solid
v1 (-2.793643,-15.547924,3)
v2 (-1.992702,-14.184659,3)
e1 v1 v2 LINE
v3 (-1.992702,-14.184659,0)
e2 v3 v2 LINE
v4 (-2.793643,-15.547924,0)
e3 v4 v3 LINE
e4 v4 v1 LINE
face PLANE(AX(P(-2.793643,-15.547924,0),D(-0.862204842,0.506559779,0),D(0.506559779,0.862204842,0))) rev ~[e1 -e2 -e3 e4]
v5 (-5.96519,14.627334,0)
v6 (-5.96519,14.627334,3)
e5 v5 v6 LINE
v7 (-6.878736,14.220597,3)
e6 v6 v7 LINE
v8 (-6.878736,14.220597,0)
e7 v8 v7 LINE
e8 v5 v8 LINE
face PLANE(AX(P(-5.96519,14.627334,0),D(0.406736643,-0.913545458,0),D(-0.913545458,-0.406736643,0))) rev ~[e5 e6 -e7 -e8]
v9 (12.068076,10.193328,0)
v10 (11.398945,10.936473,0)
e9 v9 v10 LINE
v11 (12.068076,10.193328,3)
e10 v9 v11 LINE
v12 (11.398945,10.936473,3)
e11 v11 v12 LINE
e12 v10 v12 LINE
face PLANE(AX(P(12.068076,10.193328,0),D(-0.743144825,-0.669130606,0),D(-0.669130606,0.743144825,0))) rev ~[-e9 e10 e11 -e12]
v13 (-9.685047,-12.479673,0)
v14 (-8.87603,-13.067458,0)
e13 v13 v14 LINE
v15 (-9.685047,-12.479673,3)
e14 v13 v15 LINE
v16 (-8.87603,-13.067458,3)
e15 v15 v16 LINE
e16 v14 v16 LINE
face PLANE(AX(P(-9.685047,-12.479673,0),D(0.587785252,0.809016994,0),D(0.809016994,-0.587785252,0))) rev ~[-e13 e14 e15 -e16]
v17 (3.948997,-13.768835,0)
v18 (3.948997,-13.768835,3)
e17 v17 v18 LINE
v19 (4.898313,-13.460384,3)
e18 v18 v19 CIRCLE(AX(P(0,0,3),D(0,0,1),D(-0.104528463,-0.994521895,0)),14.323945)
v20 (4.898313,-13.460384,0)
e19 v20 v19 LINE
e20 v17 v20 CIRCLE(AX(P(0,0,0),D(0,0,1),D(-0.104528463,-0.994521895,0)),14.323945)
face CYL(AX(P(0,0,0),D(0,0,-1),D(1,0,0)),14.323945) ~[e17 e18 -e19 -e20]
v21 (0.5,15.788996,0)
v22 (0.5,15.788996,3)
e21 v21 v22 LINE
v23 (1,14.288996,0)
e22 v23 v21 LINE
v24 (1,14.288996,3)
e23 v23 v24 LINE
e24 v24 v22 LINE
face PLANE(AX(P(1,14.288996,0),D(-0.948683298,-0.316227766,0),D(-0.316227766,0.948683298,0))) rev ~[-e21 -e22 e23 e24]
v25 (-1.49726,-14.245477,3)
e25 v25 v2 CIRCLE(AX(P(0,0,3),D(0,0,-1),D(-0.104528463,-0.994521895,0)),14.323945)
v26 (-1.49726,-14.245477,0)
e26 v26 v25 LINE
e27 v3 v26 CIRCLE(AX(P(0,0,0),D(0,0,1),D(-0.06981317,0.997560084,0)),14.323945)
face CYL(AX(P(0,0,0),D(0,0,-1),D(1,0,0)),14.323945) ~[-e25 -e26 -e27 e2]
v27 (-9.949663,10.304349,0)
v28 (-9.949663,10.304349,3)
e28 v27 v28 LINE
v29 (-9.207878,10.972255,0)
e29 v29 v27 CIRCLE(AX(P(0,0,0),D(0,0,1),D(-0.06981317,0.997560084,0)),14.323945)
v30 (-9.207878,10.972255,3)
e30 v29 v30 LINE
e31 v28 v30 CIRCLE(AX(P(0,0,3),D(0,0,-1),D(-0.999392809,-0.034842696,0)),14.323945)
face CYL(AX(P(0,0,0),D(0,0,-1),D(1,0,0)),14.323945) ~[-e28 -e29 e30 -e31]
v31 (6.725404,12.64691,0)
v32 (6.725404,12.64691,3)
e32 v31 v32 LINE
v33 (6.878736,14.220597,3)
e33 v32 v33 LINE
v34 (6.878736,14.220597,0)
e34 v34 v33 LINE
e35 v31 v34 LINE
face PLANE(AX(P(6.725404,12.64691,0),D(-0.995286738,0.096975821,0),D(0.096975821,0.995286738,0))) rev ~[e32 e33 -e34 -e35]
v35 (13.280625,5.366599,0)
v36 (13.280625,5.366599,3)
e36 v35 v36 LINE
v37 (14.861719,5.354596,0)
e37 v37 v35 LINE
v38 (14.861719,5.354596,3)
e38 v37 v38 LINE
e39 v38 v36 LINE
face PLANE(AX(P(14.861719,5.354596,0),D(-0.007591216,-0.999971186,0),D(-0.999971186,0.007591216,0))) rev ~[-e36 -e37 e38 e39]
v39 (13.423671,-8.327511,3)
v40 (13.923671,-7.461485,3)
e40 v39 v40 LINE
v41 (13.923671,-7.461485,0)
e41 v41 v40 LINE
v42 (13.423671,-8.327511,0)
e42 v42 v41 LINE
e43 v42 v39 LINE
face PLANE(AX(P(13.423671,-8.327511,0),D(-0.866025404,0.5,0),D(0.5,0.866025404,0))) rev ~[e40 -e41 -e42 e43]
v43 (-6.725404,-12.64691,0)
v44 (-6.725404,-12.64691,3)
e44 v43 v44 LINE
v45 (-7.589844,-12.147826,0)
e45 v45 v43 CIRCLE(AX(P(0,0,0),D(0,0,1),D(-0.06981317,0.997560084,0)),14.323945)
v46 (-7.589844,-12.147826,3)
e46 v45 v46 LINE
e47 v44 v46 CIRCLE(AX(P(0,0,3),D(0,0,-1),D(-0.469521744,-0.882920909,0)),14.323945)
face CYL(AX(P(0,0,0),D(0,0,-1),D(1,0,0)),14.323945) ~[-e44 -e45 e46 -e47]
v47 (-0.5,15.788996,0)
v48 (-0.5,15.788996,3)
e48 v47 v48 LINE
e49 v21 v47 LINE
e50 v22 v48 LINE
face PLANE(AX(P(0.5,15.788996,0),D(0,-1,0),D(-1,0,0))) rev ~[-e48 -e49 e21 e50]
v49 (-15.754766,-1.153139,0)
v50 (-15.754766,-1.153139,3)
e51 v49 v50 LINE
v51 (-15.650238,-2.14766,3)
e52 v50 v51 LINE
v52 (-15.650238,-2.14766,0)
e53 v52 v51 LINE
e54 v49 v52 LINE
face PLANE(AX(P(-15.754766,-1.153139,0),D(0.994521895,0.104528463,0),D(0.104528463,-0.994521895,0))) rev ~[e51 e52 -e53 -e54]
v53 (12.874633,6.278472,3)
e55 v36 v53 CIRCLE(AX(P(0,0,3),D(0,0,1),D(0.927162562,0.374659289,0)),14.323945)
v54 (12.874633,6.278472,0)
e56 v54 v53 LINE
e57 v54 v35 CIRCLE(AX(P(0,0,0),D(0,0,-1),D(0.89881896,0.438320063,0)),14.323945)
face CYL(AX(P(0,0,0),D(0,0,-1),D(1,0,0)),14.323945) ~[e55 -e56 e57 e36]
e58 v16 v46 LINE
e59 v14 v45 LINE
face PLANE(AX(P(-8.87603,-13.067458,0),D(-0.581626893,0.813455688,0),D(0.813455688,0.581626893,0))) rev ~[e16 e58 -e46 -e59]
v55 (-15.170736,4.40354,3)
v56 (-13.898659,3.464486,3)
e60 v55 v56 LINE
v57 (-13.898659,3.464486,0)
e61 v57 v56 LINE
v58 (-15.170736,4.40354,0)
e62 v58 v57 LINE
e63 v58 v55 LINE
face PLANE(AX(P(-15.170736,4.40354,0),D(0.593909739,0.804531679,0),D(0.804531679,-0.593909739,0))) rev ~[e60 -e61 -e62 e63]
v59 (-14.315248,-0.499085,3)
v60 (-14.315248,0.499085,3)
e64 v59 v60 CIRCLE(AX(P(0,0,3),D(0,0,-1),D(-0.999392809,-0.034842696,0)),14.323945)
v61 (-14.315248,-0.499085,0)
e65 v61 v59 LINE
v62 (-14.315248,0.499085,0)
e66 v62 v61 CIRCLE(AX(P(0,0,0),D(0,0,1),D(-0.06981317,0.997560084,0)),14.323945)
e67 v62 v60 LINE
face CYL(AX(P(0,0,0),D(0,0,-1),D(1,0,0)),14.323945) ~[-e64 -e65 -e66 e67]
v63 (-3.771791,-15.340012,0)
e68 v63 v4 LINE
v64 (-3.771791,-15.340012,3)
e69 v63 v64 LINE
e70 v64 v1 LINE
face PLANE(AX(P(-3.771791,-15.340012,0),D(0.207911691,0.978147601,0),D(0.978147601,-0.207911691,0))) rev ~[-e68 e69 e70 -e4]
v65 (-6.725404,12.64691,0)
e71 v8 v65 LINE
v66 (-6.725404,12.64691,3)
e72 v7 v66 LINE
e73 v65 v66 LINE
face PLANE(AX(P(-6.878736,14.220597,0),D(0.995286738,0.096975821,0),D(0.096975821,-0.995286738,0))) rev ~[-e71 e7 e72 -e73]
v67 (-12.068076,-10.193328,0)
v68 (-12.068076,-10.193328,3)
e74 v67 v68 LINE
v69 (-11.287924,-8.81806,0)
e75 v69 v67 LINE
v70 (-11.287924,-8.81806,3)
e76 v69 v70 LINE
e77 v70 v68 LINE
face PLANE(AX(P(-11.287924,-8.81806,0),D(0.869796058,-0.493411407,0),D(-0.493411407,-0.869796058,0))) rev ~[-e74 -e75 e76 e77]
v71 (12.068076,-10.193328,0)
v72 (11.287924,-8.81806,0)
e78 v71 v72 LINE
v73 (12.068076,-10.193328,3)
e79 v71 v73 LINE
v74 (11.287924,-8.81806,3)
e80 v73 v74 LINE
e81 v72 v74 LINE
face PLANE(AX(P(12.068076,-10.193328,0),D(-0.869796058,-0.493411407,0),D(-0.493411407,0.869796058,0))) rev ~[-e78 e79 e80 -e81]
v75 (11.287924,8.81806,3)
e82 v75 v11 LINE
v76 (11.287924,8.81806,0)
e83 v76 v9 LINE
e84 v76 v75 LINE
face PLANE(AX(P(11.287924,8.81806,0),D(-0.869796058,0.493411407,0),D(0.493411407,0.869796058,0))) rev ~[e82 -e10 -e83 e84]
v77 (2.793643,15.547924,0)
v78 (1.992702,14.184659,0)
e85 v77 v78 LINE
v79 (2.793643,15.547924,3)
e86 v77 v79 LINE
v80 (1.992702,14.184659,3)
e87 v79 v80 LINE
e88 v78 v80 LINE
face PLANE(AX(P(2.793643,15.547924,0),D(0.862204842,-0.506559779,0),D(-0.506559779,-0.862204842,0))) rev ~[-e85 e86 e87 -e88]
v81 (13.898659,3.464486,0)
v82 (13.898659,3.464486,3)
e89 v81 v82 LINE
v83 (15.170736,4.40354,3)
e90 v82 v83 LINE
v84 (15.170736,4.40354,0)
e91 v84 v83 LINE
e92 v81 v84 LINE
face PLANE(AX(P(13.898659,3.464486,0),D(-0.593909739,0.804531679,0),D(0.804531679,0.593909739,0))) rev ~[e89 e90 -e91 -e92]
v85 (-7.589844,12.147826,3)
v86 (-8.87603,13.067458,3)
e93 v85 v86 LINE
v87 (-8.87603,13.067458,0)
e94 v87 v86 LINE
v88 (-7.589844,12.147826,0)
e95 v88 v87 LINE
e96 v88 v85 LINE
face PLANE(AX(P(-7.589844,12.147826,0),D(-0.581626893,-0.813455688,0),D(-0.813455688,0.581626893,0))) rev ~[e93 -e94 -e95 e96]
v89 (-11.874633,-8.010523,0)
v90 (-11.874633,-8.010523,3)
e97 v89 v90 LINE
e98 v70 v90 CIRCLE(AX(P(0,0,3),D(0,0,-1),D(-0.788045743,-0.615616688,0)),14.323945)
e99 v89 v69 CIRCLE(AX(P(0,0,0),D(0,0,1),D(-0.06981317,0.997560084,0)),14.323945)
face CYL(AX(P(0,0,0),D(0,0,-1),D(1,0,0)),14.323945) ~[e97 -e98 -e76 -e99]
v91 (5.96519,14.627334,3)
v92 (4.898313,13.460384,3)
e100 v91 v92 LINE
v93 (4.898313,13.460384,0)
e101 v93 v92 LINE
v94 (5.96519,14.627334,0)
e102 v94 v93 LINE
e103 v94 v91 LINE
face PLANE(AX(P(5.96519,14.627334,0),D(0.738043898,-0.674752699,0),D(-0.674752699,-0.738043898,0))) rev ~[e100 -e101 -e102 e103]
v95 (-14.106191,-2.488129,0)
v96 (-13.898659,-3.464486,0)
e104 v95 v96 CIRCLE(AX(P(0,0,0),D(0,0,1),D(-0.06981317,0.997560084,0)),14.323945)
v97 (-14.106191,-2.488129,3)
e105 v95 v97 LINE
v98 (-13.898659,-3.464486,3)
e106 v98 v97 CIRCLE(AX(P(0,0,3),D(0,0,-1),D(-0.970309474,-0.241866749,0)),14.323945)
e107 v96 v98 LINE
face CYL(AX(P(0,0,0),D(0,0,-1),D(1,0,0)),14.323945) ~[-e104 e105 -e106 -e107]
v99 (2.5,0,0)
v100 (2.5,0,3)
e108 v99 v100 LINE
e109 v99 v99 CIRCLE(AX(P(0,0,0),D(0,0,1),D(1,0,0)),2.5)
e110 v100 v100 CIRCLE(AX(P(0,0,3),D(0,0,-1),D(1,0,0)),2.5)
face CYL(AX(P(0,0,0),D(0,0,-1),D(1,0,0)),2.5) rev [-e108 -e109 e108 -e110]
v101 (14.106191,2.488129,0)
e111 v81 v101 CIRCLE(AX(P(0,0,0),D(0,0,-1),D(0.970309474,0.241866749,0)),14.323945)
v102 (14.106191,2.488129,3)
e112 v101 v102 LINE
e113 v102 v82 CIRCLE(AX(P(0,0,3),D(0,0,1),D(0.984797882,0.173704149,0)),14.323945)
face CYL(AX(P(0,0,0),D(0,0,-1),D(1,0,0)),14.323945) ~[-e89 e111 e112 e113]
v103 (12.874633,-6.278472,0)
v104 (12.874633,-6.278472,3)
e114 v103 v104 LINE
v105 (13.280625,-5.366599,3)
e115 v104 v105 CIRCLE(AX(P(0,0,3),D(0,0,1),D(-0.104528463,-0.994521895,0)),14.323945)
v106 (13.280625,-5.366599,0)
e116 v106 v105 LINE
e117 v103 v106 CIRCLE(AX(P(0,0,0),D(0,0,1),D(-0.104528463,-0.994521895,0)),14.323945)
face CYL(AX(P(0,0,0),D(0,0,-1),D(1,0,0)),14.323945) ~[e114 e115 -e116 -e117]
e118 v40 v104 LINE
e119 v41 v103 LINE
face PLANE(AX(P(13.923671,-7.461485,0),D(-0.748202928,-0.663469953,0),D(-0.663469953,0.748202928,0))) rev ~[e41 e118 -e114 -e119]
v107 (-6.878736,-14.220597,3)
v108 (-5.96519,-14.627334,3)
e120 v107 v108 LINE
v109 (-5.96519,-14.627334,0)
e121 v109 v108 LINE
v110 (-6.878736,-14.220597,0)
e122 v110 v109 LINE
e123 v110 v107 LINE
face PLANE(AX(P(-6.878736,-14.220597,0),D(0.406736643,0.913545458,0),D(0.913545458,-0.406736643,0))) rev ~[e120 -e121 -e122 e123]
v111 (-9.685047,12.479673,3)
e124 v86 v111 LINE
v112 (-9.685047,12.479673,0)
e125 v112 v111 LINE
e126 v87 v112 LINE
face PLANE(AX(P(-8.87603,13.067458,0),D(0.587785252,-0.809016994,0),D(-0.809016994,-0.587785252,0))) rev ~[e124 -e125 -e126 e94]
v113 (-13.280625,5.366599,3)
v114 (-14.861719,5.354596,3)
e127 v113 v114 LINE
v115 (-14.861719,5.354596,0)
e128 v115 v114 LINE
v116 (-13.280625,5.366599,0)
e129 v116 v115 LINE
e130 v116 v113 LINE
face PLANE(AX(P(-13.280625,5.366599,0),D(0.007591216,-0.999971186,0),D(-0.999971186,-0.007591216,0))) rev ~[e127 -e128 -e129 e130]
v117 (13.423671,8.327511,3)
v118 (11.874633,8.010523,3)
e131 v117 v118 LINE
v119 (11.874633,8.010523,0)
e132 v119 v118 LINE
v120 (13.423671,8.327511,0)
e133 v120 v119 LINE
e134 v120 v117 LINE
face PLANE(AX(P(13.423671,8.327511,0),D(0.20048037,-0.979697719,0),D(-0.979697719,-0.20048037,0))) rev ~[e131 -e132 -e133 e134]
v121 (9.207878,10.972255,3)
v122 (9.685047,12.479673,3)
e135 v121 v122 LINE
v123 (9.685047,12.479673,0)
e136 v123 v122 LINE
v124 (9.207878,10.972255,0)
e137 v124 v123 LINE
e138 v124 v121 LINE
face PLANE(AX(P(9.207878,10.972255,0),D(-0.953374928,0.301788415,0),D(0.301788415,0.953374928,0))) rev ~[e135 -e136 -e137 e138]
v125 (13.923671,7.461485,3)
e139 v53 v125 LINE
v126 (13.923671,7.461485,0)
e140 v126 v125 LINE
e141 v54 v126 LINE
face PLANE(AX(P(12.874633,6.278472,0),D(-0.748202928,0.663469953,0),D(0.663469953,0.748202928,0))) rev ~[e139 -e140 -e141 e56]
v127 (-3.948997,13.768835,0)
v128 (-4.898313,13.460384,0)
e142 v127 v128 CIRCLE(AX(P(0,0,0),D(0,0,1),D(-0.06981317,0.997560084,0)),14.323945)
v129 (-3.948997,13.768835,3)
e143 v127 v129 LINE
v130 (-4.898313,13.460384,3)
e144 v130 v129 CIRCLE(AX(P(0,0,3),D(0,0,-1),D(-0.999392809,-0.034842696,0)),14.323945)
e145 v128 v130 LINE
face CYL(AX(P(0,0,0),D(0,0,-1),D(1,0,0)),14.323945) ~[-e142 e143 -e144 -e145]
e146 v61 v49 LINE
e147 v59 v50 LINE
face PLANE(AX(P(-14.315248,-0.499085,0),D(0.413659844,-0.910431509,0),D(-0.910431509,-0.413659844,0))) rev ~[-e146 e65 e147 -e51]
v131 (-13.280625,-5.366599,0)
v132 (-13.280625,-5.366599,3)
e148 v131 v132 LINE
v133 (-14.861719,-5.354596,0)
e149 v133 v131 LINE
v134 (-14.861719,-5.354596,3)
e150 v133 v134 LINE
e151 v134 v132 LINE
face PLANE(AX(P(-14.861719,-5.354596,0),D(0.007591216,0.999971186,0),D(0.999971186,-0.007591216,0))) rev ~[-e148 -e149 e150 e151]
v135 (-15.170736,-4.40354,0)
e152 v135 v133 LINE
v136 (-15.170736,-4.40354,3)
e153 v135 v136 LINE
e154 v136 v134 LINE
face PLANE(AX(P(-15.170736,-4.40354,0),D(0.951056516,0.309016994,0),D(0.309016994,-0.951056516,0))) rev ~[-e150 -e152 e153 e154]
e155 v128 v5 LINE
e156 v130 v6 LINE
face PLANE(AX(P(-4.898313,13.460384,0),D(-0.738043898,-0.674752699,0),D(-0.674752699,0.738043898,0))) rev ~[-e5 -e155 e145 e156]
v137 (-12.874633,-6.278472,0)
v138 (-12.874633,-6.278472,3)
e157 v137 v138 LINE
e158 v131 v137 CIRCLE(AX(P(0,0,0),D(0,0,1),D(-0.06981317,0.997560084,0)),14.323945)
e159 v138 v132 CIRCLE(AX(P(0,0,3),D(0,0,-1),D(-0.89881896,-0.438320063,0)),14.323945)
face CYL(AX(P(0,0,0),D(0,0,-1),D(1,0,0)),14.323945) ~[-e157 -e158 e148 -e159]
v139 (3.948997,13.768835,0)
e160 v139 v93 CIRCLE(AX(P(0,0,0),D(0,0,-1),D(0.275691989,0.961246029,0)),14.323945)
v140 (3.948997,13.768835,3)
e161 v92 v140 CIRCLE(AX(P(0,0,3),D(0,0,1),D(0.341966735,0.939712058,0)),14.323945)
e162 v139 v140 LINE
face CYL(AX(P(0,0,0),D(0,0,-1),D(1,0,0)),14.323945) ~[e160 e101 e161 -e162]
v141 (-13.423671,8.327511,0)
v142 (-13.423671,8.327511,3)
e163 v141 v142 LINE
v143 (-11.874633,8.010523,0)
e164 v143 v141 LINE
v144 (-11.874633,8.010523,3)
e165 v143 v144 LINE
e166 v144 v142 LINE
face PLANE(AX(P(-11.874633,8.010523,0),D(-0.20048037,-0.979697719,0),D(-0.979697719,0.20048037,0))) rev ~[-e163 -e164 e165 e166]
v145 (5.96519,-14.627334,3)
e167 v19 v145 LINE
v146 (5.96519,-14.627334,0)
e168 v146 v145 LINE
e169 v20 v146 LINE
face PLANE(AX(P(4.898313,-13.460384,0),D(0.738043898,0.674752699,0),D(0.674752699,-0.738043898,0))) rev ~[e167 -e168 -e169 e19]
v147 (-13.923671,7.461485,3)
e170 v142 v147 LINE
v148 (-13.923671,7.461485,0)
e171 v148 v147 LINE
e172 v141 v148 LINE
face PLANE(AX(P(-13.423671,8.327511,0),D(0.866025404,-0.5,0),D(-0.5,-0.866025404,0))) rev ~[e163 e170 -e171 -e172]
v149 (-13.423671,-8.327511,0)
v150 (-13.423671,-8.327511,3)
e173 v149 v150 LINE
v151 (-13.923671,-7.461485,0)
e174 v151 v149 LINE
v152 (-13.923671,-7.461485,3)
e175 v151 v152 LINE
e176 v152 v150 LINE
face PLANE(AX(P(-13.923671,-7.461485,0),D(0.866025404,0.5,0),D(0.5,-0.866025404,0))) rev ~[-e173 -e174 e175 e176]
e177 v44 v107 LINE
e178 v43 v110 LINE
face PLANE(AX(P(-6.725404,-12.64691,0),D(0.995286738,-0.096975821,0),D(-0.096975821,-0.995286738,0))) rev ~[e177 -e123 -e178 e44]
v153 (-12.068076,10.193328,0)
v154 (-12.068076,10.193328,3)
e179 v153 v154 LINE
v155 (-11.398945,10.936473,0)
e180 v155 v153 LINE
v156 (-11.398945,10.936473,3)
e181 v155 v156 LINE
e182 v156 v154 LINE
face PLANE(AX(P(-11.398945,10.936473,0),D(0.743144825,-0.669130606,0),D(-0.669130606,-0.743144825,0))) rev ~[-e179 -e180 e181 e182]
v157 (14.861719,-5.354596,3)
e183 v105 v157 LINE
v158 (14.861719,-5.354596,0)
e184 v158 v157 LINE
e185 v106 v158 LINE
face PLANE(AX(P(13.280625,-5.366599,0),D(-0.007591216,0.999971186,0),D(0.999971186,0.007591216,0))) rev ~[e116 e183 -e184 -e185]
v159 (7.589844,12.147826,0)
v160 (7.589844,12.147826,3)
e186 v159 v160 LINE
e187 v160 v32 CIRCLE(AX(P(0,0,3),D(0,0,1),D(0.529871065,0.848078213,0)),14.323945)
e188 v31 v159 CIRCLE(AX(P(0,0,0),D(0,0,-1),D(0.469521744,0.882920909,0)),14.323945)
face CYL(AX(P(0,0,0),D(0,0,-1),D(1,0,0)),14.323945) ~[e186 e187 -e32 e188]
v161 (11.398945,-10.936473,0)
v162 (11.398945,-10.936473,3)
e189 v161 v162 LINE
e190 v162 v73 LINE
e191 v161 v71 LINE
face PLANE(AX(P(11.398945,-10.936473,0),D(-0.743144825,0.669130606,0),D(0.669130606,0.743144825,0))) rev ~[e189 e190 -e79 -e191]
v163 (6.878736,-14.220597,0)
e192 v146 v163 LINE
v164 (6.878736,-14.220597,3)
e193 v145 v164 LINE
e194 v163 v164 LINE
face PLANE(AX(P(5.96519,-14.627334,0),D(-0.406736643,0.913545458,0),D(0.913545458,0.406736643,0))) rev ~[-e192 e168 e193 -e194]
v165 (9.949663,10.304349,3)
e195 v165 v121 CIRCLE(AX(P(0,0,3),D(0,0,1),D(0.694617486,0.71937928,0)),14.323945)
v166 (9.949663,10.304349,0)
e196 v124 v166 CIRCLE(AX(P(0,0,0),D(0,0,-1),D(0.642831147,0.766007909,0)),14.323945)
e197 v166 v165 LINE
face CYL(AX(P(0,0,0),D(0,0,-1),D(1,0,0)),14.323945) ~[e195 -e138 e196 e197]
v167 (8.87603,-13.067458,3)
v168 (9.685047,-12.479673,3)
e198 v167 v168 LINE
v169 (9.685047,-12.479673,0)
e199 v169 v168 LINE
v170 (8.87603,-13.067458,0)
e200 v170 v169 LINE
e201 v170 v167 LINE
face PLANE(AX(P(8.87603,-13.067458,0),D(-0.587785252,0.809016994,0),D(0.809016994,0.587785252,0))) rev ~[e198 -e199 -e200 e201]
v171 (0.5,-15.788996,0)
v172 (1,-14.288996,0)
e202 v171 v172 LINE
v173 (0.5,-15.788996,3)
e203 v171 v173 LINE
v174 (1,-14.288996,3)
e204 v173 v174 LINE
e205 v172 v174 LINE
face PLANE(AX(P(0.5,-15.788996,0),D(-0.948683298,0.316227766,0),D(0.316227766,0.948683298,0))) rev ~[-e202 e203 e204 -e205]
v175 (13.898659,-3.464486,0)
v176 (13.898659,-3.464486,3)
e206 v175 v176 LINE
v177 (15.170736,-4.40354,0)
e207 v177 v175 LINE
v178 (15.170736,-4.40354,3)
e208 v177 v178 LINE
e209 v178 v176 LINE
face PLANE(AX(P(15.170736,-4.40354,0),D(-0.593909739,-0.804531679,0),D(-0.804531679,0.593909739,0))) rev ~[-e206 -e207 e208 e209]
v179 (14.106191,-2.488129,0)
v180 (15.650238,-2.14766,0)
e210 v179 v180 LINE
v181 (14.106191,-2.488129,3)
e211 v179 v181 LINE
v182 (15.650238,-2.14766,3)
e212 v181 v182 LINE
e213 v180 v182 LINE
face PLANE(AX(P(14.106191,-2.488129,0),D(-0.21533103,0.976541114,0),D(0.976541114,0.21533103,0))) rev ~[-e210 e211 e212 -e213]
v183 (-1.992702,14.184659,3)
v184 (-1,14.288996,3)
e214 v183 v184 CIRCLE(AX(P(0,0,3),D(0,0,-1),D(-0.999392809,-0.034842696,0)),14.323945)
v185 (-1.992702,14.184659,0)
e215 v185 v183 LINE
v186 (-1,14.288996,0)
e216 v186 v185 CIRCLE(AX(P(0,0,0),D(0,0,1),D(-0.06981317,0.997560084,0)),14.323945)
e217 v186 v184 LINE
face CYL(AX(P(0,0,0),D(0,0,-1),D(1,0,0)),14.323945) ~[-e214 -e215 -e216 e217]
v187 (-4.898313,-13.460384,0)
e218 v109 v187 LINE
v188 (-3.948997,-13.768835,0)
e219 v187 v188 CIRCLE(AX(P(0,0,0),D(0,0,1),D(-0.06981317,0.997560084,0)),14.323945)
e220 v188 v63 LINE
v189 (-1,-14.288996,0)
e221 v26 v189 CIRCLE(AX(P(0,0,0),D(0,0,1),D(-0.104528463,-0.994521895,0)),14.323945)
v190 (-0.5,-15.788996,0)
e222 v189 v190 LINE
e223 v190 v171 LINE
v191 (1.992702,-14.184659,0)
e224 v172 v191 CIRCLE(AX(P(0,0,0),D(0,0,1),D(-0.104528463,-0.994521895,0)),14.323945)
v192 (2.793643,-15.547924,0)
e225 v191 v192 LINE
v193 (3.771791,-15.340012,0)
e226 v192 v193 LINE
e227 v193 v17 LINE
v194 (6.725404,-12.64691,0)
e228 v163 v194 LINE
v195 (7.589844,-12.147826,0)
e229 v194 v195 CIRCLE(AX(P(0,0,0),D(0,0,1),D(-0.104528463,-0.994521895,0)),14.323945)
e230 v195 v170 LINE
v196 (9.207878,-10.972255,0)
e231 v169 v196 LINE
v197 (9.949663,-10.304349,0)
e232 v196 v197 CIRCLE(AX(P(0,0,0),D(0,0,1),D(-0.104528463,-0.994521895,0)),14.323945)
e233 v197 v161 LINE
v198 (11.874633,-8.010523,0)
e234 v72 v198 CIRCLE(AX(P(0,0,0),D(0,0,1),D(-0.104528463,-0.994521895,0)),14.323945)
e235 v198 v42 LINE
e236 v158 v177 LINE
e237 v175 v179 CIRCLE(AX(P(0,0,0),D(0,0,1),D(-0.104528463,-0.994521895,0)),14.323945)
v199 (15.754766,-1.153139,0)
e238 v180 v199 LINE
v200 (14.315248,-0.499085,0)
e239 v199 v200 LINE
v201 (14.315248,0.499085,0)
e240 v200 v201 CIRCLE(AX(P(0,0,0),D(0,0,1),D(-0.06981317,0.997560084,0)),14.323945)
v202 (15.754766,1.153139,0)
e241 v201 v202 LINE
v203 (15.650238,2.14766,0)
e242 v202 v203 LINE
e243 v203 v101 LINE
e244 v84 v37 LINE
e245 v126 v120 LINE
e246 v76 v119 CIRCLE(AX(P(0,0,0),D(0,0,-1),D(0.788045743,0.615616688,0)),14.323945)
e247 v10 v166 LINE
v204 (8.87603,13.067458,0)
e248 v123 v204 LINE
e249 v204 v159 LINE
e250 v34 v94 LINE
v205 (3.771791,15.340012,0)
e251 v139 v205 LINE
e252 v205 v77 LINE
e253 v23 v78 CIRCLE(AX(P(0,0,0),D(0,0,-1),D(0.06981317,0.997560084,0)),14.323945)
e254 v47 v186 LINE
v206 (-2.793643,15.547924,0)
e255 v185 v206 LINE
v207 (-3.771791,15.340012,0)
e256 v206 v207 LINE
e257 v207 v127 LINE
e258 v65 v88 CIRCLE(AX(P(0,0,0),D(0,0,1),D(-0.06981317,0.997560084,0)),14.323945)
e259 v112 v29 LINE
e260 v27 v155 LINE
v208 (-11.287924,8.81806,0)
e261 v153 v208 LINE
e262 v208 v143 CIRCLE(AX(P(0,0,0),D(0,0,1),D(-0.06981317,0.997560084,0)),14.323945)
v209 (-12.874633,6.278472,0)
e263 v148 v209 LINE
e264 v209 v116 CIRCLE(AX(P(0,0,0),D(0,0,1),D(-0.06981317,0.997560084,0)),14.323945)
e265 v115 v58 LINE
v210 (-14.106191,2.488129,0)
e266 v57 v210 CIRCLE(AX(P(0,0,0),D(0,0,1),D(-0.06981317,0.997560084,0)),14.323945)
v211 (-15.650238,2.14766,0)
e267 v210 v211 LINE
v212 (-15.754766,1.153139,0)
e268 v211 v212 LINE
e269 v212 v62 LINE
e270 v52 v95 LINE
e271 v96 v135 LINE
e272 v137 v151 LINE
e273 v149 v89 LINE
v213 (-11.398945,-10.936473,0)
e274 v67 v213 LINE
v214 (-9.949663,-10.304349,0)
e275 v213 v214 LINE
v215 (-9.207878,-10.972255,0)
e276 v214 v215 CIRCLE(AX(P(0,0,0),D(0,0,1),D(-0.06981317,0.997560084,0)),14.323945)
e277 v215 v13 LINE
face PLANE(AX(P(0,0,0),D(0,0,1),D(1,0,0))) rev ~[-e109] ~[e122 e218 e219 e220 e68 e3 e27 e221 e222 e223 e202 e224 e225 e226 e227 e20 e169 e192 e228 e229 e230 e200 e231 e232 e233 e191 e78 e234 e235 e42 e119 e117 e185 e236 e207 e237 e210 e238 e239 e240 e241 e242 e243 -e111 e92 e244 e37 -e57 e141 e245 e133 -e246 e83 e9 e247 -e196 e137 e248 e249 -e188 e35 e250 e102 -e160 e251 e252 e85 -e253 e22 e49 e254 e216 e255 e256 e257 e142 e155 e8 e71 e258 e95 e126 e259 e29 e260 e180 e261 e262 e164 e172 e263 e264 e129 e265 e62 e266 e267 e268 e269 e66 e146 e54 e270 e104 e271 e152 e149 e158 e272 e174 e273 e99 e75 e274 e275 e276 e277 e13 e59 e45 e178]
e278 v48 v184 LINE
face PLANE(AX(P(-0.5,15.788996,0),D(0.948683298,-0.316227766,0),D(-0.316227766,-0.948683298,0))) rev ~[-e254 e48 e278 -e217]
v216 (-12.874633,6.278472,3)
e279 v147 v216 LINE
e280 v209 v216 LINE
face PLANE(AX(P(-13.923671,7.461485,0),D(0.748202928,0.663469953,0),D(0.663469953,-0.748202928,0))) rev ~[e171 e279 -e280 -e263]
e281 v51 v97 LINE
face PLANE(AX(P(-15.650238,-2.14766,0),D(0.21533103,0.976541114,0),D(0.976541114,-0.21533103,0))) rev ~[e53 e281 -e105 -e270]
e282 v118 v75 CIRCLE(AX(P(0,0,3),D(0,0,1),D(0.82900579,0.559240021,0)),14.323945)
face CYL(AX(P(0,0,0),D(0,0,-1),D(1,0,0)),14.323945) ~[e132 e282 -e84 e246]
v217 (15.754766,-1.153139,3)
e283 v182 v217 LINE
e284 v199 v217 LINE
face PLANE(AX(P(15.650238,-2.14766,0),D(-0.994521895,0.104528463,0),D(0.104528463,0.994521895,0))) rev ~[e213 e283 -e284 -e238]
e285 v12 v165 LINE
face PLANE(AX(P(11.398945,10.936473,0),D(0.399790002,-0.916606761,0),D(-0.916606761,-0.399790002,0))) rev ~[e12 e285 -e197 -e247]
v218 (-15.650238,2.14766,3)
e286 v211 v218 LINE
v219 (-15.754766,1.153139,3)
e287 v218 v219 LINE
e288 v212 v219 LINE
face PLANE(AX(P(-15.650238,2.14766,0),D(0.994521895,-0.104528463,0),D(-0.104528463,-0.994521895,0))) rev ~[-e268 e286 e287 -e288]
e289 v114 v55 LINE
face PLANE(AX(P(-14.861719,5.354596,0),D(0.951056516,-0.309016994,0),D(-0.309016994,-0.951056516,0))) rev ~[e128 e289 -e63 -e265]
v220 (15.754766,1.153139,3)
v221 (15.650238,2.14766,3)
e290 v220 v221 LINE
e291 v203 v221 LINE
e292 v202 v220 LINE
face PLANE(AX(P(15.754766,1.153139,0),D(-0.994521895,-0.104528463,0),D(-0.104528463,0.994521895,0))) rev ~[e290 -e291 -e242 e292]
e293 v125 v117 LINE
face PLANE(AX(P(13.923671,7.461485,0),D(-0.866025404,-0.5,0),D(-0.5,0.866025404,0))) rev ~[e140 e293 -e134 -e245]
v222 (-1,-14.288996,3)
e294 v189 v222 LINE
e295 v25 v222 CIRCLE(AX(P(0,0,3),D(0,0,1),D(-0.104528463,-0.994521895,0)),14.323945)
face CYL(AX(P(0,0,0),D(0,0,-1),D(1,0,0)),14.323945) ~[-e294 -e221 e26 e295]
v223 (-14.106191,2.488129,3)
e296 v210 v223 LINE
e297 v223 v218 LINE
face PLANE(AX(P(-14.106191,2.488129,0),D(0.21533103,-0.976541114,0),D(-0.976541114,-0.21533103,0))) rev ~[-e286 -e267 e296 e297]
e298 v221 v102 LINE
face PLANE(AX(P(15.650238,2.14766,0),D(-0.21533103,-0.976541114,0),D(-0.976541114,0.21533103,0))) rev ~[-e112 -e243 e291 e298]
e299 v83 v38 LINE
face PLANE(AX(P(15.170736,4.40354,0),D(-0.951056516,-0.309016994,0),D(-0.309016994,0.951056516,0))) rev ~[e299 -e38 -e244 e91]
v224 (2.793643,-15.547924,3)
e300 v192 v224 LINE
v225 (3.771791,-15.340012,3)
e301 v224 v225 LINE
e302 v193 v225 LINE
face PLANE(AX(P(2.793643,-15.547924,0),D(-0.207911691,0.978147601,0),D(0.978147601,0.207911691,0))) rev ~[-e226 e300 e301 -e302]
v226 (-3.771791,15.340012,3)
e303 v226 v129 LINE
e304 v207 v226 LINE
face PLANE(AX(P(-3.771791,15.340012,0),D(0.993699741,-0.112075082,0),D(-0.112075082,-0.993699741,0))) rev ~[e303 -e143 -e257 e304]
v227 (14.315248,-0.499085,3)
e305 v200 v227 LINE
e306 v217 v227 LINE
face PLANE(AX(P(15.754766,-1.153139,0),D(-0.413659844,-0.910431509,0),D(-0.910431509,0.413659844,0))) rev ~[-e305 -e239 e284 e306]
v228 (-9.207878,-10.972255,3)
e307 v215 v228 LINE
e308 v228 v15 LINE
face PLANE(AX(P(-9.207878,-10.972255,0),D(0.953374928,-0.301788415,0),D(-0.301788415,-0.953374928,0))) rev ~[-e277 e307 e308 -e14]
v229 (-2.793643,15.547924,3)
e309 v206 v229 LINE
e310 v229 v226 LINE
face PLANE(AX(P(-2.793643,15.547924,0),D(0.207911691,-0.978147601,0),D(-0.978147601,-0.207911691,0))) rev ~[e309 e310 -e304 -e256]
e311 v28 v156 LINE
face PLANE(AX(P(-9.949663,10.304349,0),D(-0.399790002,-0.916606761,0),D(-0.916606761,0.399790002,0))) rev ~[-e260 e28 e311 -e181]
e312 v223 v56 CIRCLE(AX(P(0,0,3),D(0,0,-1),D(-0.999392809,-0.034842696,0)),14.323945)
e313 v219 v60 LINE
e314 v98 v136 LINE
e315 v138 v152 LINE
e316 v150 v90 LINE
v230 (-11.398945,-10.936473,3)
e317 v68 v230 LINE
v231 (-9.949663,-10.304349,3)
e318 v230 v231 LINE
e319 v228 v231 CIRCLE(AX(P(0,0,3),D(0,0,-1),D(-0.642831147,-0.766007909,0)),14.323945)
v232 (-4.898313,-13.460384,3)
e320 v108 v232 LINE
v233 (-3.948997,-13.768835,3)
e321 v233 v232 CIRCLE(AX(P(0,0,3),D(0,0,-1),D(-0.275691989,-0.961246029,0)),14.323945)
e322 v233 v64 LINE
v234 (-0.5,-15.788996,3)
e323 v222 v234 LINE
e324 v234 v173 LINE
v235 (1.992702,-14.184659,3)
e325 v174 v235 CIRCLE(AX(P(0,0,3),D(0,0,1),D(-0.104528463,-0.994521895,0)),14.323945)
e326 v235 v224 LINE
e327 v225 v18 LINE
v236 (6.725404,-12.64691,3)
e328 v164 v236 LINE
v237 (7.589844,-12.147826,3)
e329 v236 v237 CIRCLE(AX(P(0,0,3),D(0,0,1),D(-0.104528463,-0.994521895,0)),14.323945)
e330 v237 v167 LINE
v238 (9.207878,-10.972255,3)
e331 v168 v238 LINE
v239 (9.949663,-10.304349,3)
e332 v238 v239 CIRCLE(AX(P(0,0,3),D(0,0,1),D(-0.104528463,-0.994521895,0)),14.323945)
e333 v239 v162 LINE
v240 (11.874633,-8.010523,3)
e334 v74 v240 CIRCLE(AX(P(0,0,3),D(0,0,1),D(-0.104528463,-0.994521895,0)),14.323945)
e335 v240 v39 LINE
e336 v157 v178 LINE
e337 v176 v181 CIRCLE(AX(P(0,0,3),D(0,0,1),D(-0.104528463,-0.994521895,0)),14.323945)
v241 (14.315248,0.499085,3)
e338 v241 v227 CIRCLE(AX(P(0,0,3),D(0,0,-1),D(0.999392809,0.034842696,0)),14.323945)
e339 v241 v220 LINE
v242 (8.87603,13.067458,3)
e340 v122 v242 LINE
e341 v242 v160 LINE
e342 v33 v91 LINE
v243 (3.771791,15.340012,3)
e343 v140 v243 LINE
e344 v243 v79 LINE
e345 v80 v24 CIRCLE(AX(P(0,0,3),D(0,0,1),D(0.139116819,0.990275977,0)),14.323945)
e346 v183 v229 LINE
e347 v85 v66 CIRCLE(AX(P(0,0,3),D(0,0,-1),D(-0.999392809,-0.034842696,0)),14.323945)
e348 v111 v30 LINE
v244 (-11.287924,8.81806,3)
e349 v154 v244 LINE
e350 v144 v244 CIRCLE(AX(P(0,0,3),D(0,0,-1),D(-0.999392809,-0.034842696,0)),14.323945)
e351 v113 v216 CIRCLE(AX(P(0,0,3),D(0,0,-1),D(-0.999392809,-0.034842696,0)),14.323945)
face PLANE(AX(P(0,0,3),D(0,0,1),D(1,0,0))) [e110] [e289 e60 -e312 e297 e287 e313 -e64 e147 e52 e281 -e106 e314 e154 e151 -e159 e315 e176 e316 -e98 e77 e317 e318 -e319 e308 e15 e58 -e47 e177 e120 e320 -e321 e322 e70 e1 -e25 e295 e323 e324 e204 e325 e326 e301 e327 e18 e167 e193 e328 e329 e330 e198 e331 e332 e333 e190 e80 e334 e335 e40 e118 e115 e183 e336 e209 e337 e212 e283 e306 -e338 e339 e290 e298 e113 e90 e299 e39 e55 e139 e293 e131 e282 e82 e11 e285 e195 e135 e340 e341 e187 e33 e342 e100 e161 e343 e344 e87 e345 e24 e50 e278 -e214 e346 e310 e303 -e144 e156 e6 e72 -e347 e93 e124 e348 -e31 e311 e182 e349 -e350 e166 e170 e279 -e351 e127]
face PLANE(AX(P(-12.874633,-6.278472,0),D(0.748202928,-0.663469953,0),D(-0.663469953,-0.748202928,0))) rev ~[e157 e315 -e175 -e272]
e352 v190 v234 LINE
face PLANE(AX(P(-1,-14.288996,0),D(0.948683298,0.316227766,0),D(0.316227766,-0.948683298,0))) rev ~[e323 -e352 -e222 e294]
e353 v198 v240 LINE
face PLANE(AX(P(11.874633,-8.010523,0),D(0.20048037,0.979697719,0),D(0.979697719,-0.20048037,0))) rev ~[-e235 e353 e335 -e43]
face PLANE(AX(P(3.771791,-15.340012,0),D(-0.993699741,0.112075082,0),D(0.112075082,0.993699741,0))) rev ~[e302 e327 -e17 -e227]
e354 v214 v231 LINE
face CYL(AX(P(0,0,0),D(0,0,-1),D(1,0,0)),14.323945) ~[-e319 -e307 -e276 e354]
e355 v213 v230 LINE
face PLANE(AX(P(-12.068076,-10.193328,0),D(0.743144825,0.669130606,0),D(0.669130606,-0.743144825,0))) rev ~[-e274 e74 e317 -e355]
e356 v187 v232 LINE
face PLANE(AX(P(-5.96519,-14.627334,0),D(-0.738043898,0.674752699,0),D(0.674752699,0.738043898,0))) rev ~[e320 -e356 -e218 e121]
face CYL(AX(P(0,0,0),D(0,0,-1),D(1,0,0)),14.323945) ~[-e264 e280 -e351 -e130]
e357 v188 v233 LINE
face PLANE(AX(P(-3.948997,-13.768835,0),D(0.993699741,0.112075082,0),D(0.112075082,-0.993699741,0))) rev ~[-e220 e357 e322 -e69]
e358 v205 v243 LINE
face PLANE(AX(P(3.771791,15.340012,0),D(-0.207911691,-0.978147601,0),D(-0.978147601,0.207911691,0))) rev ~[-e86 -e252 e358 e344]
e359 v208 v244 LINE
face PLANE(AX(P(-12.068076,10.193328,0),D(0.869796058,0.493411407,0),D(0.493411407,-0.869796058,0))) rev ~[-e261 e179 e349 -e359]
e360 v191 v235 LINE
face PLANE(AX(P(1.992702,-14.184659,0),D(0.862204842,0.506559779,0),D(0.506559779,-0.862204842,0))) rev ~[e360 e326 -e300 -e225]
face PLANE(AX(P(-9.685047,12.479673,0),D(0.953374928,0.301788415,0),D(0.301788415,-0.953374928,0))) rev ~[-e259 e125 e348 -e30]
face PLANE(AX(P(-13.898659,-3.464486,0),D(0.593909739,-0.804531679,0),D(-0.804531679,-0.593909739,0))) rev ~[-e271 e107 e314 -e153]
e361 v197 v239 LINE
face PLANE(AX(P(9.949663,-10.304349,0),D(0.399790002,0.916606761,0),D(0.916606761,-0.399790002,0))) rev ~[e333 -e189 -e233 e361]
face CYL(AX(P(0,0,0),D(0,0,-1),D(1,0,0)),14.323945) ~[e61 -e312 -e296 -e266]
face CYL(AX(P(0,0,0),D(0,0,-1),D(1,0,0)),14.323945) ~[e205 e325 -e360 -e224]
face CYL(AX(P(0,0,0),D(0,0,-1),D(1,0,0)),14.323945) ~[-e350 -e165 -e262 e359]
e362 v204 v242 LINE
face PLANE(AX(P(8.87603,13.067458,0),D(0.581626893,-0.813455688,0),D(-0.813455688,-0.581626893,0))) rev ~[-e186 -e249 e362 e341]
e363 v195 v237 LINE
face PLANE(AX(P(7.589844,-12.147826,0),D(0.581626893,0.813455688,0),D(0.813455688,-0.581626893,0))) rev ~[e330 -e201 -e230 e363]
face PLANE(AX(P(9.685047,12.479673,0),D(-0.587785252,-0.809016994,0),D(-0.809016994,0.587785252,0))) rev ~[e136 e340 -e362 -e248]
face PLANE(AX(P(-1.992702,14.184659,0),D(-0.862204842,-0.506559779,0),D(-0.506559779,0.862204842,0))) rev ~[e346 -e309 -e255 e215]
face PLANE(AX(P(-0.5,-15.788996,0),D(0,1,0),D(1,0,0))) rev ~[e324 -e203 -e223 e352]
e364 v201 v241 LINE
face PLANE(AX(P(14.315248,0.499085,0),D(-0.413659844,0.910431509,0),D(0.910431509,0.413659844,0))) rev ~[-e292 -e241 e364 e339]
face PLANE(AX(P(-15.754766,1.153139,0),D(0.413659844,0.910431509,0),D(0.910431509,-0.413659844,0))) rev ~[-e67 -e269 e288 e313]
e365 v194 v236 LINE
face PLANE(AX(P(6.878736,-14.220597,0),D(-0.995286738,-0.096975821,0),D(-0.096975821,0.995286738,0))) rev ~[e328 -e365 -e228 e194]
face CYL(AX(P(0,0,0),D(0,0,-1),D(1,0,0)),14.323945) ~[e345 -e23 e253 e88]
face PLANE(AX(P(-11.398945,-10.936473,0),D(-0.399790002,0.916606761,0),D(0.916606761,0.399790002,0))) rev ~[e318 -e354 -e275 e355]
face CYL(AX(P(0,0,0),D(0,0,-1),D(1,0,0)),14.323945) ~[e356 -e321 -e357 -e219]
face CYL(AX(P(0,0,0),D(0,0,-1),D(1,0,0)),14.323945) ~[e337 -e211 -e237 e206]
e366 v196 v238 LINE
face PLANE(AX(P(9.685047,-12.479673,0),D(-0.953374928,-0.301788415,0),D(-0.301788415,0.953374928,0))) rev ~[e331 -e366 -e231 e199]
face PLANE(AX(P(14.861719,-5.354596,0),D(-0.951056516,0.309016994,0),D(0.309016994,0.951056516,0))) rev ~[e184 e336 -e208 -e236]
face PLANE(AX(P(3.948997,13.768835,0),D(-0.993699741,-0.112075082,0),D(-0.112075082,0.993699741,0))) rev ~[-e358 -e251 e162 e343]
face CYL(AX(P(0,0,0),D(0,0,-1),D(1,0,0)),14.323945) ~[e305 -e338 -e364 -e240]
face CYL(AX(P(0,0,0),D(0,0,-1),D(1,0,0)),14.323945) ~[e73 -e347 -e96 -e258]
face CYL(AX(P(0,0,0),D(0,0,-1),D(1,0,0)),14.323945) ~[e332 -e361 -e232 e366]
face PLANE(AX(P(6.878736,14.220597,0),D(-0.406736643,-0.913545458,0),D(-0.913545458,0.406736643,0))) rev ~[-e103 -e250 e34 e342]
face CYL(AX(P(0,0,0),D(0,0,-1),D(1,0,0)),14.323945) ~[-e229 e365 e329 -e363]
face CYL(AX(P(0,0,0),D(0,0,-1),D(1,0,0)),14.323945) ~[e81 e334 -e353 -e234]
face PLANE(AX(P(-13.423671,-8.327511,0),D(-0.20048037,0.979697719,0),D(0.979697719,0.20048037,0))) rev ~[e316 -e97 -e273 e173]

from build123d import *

# Parameters (mm, degrees)
F0_R     = 14.3239448783
F0_R_2   = 2.5
F2_DEPTH = 3
F3_DEPTH = 3
F4_COUNT = 30
F4_ANGLE = 348


with BuildPart() as f2:
    # F0 (on Top) → F2 (new body)
    with BuildSketch(Plane.XY):
        Circle(F0_R)
        Circle(F0_R_2, mode=Mode.SUBTRACT)
    extrude(amount=F2_DEPTH)

    # F1 (on face) → F3 (join)
    with BuildSketch(Plane.XY):
        with BuildLine():
            ThreePointArc((-1, 14.2889956566), (0, 14.3239448783), (1, 14.2889956566))
            Line((1, 14.2889956566), (0.5, 15.7889956566))
            Line((0.5, 15.7889956566), (-0.5, 15.7889956566))
            Line((-0.5, 15.7889956566), (-1, 14.2889956566))
        make_face()
    extrude(amount=F3_DEPTH)

    # F4: F2 ×30 about axis
    f4_axis = Axis((0, 0, 0), (0, 0, -1))


with BuildPart() as f2_1:
    add(f2.part)
    for i in range(1, F4_COUNT):
        add(f2.part.rotate(f4_axis, i * F4_ANGLE / (F4_COUNT - 1)))


solid = f2_1.part
